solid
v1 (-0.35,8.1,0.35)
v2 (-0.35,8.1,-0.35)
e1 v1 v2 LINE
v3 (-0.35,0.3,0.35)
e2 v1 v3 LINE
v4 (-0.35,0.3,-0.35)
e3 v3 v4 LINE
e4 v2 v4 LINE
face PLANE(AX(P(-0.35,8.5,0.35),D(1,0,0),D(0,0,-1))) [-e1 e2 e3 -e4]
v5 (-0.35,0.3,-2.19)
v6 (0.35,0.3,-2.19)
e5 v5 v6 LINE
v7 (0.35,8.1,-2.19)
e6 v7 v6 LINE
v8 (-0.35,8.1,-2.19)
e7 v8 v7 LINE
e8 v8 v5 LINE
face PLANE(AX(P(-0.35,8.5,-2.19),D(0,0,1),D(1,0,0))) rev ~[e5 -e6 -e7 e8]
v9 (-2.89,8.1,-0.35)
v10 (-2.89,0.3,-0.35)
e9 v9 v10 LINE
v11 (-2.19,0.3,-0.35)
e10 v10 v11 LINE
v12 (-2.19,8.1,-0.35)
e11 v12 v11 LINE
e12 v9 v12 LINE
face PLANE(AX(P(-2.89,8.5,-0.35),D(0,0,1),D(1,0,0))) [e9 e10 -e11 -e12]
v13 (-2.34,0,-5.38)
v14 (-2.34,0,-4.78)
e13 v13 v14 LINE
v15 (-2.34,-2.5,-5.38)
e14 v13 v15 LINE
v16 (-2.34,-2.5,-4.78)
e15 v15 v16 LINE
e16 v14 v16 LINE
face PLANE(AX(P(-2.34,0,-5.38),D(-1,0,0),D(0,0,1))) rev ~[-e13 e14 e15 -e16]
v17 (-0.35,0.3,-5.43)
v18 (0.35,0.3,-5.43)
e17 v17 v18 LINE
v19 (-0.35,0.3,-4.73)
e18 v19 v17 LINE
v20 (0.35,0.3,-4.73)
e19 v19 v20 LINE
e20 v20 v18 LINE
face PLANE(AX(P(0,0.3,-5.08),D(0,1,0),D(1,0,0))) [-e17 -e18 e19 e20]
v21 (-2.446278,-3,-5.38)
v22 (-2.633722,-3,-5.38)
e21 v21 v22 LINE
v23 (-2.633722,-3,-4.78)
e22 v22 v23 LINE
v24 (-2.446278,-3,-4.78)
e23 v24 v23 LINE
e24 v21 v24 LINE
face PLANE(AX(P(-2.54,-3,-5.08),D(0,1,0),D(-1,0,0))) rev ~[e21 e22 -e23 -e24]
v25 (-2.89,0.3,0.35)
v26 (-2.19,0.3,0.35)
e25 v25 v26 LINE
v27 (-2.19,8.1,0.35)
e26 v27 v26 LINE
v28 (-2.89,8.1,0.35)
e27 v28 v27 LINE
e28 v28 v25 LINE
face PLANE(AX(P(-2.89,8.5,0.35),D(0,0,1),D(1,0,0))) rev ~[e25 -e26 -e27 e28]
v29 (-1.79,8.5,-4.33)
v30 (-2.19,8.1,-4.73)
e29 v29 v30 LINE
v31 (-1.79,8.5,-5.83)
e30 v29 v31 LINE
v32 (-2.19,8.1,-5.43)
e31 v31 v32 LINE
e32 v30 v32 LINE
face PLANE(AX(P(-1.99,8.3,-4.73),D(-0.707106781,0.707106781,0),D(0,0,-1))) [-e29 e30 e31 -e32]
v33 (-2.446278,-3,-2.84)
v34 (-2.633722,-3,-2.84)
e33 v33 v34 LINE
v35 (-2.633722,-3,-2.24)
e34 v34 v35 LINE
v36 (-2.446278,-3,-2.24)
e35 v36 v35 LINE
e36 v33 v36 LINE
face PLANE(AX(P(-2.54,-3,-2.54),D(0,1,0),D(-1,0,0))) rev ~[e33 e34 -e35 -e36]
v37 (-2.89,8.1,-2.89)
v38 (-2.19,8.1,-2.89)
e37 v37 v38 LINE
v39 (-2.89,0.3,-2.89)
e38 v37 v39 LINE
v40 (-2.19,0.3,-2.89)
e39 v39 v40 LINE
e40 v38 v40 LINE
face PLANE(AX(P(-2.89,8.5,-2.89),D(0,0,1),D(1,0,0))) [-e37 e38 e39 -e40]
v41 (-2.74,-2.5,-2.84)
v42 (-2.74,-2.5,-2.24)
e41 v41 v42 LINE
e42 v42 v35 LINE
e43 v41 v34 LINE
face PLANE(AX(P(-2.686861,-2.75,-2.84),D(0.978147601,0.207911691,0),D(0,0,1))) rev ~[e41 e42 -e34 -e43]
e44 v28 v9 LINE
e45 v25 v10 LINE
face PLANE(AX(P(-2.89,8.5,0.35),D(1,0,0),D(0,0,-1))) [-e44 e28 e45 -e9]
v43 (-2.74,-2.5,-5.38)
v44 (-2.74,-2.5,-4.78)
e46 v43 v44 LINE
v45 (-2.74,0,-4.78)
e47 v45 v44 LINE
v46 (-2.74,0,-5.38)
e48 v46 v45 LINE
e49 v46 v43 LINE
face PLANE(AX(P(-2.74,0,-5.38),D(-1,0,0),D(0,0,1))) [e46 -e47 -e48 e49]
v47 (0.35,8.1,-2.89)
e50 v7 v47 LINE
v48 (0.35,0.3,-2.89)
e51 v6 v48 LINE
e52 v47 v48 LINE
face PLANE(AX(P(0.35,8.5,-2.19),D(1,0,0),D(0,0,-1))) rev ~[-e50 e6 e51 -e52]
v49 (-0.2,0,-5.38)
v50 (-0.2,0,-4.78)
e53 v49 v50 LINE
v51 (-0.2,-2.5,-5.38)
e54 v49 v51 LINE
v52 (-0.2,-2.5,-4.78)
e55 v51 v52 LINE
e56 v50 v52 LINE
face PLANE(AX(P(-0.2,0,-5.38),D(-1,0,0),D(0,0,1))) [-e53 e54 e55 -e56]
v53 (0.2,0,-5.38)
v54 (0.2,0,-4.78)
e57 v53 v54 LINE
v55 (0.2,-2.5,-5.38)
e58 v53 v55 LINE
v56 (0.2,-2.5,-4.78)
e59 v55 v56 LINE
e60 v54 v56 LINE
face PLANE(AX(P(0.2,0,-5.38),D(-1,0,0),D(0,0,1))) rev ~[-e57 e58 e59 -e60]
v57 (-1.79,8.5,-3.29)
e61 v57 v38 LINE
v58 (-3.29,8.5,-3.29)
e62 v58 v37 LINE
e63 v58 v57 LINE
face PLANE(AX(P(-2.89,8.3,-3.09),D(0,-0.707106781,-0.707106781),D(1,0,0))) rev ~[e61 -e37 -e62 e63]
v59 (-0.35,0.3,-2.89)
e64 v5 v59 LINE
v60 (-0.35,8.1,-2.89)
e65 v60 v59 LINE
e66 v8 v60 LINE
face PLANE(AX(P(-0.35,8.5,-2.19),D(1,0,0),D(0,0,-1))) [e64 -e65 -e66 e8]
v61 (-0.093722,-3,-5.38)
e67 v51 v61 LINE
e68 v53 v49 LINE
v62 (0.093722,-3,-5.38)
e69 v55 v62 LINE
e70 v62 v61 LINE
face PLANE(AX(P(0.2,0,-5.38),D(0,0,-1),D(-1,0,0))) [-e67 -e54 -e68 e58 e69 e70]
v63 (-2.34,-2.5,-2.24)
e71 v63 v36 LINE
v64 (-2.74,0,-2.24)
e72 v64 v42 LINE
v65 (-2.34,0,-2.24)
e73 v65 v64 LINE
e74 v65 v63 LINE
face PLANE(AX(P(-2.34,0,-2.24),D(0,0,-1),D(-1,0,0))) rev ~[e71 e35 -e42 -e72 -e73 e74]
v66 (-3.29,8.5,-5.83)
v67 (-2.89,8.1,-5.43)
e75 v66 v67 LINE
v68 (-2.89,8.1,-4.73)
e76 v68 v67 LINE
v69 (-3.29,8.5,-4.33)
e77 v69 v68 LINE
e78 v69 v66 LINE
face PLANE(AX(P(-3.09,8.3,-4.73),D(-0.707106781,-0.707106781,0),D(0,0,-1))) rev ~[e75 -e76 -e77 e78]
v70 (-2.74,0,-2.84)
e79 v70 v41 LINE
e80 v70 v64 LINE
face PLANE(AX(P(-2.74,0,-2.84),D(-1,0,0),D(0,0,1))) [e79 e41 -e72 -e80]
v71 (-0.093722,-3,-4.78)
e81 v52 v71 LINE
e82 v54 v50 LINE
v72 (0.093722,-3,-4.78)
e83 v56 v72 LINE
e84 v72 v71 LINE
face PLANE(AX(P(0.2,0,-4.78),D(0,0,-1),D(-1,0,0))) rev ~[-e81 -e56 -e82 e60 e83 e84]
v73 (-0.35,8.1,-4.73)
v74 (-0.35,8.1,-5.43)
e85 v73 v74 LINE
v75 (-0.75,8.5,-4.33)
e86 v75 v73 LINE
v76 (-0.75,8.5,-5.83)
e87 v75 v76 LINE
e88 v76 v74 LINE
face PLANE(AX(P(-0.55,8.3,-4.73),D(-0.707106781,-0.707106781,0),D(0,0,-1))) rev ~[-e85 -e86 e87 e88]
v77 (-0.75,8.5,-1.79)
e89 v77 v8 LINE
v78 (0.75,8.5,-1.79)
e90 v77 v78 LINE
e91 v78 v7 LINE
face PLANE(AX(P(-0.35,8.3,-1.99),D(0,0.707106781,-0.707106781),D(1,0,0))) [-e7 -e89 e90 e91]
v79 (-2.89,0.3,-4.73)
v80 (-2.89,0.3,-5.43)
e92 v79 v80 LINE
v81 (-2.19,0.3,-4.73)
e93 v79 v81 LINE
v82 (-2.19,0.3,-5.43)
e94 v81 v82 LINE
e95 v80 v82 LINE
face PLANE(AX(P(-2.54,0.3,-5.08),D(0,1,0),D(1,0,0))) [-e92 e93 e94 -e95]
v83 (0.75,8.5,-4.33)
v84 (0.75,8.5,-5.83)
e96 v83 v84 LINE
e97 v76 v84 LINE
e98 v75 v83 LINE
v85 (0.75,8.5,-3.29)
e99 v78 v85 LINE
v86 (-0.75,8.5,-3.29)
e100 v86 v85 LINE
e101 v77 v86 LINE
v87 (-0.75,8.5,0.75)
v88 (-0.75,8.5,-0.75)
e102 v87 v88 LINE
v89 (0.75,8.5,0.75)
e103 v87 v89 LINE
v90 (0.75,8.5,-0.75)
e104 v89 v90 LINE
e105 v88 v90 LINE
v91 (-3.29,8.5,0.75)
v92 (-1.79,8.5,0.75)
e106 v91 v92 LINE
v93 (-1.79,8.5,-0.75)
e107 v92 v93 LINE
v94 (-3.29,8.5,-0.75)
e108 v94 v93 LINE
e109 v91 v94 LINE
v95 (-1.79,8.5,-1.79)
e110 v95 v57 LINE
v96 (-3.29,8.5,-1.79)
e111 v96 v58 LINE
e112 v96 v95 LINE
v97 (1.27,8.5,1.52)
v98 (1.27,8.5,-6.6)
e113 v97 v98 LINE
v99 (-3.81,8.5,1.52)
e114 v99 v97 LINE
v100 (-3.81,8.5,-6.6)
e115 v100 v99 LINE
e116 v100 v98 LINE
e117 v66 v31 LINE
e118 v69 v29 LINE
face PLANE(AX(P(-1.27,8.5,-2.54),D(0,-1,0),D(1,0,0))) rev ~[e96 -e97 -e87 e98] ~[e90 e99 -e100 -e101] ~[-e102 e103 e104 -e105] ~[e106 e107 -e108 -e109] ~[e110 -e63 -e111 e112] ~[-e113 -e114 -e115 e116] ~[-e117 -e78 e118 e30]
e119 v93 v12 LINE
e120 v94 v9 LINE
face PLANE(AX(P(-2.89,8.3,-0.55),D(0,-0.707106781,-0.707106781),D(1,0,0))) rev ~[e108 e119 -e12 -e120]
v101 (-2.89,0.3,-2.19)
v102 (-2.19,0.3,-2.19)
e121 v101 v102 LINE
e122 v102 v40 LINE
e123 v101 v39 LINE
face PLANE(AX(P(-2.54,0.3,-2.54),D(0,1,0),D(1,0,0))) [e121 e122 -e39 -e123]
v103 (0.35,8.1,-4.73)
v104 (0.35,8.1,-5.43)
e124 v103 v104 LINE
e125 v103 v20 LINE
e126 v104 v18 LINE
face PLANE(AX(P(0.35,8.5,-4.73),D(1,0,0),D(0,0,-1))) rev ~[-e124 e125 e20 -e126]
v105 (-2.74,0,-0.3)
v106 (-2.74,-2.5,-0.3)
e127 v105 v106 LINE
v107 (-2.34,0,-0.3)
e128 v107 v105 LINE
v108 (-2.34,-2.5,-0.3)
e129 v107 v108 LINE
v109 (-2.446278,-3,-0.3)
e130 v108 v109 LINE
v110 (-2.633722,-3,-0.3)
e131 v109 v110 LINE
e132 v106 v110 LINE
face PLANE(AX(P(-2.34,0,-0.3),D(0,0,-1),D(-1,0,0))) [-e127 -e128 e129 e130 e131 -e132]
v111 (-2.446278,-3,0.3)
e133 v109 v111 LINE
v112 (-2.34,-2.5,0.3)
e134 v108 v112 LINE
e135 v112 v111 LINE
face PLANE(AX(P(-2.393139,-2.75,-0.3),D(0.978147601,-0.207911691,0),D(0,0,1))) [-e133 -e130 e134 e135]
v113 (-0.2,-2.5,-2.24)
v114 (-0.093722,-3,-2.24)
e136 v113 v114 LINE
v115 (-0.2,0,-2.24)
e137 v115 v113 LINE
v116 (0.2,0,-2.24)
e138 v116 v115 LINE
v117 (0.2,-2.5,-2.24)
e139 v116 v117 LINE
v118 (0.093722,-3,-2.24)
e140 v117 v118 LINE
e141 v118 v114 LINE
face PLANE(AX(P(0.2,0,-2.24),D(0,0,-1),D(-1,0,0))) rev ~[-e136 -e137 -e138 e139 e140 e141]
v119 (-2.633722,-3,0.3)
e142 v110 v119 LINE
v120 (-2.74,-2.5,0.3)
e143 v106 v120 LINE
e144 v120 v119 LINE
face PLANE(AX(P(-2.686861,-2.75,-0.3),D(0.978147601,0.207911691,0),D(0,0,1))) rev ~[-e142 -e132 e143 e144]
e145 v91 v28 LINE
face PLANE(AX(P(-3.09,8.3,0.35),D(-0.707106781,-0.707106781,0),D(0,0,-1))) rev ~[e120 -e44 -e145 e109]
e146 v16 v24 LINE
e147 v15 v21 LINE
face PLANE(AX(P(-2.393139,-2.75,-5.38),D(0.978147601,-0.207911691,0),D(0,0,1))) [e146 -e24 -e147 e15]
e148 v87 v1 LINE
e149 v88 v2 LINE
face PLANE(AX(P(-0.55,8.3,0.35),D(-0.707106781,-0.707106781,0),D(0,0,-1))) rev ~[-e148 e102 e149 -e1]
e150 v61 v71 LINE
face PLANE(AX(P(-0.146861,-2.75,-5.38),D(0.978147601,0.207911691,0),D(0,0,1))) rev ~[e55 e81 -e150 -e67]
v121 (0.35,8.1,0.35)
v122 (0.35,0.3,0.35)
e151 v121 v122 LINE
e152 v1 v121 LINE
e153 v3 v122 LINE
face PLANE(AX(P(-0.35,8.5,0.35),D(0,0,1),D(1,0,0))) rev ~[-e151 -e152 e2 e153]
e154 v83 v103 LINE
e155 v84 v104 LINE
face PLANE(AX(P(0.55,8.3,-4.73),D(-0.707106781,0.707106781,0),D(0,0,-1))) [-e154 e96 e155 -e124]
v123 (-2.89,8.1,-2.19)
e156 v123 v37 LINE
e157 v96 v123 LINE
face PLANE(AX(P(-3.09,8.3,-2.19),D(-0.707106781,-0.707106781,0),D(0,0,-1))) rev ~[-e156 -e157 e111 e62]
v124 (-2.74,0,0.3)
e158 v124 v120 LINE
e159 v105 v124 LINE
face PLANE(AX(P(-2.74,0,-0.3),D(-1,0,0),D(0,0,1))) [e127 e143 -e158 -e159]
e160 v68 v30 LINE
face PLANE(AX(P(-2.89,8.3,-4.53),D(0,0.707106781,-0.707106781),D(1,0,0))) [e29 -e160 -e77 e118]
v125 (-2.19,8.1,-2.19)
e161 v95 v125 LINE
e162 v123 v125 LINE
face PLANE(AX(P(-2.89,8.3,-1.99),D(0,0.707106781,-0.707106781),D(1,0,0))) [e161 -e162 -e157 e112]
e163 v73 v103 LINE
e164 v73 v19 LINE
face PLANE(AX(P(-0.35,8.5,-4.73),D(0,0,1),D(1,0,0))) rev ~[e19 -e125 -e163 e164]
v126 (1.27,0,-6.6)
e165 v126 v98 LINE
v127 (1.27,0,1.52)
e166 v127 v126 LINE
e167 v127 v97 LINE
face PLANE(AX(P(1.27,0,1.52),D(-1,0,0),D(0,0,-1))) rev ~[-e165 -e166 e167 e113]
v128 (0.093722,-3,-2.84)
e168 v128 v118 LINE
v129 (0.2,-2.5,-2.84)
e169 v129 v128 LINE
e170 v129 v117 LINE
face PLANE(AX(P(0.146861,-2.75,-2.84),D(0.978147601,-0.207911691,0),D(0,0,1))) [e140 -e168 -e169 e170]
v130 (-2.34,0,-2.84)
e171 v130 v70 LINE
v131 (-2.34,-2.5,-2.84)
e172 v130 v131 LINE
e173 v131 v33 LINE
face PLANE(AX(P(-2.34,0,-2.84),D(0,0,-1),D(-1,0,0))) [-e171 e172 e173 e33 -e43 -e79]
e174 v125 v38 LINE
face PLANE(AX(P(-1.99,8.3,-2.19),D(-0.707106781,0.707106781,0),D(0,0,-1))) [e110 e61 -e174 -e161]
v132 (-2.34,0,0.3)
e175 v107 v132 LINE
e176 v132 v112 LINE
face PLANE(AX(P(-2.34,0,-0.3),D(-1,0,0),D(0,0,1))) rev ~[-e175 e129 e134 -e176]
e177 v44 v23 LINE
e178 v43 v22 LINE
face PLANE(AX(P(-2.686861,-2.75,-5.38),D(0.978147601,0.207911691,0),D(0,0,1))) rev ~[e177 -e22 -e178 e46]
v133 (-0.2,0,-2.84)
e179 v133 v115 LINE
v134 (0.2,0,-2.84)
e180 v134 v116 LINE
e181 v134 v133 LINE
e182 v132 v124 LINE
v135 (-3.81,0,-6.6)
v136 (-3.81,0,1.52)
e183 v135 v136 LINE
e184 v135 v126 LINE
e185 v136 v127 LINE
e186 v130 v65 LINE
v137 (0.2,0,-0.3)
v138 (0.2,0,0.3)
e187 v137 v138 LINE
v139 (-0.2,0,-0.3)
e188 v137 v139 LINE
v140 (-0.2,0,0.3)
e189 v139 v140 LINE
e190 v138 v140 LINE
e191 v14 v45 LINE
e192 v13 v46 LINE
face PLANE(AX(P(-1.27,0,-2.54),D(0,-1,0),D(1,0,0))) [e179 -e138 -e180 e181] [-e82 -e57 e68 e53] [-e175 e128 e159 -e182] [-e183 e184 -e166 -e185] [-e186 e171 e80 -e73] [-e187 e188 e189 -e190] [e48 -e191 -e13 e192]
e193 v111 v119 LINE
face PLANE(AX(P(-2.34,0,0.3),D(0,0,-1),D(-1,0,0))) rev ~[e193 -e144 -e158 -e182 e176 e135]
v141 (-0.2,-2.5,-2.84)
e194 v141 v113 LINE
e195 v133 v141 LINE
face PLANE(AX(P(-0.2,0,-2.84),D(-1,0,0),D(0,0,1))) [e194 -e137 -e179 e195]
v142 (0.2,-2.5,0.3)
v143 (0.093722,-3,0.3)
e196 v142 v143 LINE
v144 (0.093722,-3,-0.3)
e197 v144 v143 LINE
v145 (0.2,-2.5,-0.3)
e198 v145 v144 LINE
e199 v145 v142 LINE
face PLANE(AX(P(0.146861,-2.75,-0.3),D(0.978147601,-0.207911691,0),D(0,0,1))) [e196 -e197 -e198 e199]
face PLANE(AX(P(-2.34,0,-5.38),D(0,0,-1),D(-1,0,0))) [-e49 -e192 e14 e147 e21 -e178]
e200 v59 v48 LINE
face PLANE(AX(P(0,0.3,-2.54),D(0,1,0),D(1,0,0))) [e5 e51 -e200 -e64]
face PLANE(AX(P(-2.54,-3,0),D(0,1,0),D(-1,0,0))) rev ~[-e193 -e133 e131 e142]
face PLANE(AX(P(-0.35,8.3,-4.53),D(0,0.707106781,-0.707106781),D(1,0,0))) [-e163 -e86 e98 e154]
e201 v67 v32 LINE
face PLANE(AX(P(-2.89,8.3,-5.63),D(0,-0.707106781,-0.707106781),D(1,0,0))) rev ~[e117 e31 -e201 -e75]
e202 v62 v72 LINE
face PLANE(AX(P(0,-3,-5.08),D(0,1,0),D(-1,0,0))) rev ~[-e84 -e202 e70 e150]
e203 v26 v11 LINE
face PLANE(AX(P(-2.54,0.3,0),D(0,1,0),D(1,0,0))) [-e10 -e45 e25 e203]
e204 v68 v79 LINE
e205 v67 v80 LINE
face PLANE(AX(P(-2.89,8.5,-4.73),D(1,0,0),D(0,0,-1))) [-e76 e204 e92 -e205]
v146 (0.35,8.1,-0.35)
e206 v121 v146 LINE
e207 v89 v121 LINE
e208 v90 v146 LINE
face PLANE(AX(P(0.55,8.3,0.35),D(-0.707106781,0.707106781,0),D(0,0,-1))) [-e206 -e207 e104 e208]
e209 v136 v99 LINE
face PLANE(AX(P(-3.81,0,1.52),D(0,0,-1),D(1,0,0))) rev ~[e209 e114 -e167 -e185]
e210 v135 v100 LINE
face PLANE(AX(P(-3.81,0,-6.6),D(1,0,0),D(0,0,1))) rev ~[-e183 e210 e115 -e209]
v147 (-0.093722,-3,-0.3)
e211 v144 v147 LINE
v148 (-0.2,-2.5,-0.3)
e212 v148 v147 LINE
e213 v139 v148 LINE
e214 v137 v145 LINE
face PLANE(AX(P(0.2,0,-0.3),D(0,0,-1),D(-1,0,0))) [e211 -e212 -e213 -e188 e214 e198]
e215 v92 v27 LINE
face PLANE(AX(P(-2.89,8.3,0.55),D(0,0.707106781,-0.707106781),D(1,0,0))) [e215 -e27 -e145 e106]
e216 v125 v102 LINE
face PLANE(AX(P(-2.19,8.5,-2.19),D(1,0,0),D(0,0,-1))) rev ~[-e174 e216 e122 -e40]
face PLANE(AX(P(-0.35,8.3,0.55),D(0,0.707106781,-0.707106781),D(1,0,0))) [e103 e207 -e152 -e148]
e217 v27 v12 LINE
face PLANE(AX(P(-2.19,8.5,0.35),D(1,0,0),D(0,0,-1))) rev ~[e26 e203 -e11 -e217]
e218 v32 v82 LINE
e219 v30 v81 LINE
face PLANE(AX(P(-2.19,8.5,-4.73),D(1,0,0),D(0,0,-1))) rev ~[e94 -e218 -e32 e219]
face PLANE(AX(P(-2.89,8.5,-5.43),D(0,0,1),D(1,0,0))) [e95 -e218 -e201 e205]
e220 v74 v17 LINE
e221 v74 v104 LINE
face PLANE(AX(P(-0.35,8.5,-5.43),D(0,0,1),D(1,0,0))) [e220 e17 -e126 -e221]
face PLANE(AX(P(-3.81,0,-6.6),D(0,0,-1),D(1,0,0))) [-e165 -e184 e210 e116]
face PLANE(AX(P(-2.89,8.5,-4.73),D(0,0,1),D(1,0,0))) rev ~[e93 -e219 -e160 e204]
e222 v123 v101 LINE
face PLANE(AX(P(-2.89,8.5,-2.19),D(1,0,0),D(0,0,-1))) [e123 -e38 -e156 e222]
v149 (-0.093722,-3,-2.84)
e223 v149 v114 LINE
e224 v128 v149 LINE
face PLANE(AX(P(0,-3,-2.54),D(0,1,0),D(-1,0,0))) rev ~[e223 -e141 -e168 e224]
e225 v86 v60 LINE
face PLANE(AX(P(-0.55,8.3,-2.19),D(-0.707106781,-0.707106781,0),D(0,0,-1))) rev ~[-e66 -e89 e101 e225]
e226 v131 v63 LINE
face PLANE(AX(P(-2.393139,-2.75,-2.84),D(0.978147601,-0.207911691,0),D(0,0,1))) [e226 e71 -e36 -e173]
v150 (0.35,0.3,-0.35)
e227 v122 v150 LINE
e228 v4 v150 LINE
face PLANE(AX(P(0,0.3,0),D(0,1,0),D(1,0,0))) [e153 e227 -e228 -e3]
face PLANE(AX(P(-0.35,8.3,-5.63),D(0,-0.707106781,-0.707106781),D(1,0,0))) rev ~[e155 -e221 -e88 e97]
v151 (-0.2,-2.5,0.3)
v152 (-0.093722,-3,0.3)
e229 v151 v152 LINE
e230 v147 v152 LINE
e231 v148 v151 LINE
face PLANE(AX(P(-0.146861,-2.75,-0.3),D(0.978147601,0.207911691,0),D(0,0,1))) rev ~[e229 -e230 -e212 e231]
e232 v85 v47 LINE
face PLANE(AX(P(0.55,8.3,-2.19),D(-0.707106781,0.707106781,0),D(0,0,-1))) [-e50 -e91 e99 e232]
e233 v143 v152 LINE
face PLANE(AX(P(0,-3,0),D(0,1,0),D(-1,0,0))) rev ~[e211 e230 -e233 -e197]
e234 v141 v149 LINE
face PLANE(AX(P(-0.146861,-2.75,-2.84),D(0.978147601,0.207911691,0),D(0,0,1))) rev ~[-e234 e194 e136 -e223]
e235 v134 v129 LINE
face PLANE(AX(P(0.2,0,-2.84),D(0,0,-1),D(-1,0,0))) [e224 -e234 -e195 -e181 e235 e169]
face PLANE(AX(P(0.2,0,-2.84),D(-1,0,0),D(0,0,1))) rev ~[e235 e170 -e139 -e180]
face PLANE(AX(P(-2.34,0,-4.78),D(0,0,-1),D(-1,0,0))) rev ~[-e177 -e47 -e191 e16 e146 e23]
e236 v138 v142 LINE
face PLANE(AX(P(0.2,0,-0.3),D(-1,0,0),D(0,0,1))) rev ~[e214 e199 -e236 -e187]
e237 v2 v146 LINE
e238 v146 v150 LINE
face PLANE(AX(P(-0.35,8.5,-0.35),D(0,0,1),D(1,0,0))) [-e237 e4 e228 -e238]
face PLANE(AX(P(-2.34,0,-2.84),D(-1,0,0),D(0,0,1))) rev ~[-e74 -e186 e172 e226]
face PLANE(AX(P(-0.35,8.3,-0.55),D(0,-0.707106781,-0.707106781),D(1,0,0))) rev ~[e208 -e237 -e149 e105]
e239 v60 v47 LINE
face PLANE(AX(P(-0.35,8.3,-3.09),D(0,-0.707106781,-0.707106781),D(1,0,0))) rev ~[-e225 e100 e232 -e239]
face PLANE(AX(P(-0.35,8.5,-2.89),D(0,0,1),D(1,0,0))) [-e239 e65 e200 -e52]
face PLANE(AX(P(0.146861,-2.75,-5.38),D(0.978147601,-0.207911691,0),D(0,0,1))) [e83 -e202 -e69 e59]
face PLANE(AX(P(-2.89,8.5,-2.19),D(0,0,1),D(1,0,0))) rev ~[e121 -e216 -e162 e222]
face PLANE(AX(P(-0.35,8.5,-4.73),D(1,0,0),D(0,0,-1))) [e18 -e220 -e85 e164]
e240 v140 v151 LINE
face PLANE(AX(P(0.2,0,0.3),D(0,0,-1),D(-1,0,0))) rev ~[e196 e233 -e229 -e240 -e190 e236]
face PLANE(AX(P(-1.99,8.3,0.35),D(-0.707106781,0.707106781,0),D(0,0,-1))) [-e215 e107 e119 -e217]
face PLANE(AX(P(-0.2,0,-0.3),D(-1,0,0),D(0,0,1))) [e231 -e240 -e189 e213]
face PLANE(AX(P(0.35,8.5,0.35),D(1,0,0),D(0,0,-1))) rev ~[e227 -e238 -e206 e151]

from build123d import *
from OCP.BRepFilletAPI import BRepFilletAPI_MakeChamfer

# Parameters (mm, degrees)
EXTRUDE_1_DEPTH                     = 8.5
SKETCH_4_W                          = 0.7
SKETCH_4_H                          = 0.7
CUT_EXTRUDE_1_DEPTH                 = 8.2
CHAMFER_3_SIZE                      = 0.4
SKETCH_2_W                          = 0.4
SKETCH_2_H                          = 0.6
EXTRUDE_2_DEPTH                     = 3
CHAMFER_2_SIZE                      = 0.5
CHAMFER_2_SIZE2                     = 0.106278281
PATTERN_LINEAR_1_COUNT              = 3
PATTERN_LINEAR_1_PITCH              = 2.54
PATTERN_LINEAR_1_COUNT_DIR2         = 2
PATTERN_LINEAR_1_PITCH_DIR2         = 2.54
CHAMFER_3_OF_PATTERN_LINEAR_1_SIZE  = 0.4
CHAMFER_2_OF_PATTERN_LINEAR_1_SIZE  = 0.5
CHAMFER_2_OF_PATTERN_LINEAR_1_SIZE2 = 0.106278281


with BuildPart() as part:
    # Эскиз1 → Бобышка-Вытянуть1 (new body)
    with BuildSketch(Plane(origin=(0, 0, 0), x_dir=(-1, 0, 0), z_dir=(0, 1, 0))):
        Polygon((-1.27, 1.52), (1.27, 1.52), (3.81, 1.52), (3.81, -1.52), (3.81, -6.6), (-1.27, -6.6), (-1.27, -1.52), align=None)
    extrude(amount=EXTRUDE_1_DEPTH)

    # Эскиз4 → Вырез-Вытянуть1 (cut)
    with BuildSketch(Plane(origin=(0, 8.5, 0), x_dir=(1, 0, 0), z_dir=(0, 1, 0))):
        Rectangle(SKETCH_4_W, SKETCH_4_H)
    cut_extrude_1 = extrude(amount=-CUT_EXTRUDE_1_DEPTH, mode=Mode.SUBTRACT)

    # Фаска3
    chamfer_3_edges = [part.edges().sort_by_distance(p)[0] for p in [
        (-0.35, 8.5, 0),
        (0, 8.5, 0.35),
        (0.35, 8.5, 0),
        (0, 8.5, -0.35),
    ]]
    chamfer(chamfer_3_edges, length=CHAMFER_3_SIZE)

    # Эскиз2 → Бобышка-Вытянуть2 (add)
    with BuildSketch(Plane(origin=(0, 0, 0), x_dir=(-1, 0, 0), z_dir=(0, 1, 0))):
        Rectangle(SKETCH_2_W, SKETCH_2_H)
    extrude_2 = extrude(amount=-EXTRUDE_2_DEPTH)

    # Фаска2: one chamfer whose edges measure the first distance from different faces: ONE call of the kernel's chamfer builder (chamfer() names one face for all edges)
    chamfer_2_edges_1 = [part.edges().sort_by_distance(p)[0] for p in [
        (-0.2, -3, 0),
    ]]
    chamfer_2_side_1 = [part.faces().sort_by_distance(p)[0] for p in [
        (-0.2, -1.5, 0),
    ]]
    chamfer_2_edges_2 = [part.edges().sort_by_distance(p)[0] for p in [
        (0.2, -3, 0),
    ]]
    chamfer_2_side_2 = [part.faces().sort_by_distance(p)[0] for p in [
        (0.2, -1.5, 0),
    ]]
    chamfer_2 = BRepFilletAPI_MakeChamfer(part.part.solid().wrapped)
    for e in chamfer_2_edges_1:
        chamfer_2.Add(CHAMFER_2_SIZE, CHAMFER_2_SIZE2, e.wrapped, chamfer_2_side_1[0].wrapped)  # the first distance lies on this face
    for e in chamfer_2_edges_2:
        chamfer_2.Add(CHAMFER_2_SIZE, CHAMFER_2_SIZE2, e.wrapped, chamfer_2_side_2[0].wrapped)  # the first distance lies on this face
    add(Compound.cast(chamfer_2.Shape()), mode=Mode.REPLACE)

    # Линейный массив1: Вырез-Вытянуть1, Extrude 2 3 × 2
    with Locations(*[(-j * PATTERN_LINEAR_1_PITCH_DIR2, 0, -i * PATTERN_LINEAR_1_PITCH) for i in range(PATTERN_LINEAR_1_COUNT) for j in range(PATTERN_LINEAR_1_COUNT_DIR2) if (i, j) != (0, 0)]):
        add(cut_extrude_1, mode=Mode.SUBTRACT)
        add(extrude_2)

    # Фаска3 of Линейный массив1
    chamfer_3_of_pattern_linear_1_edges = [part.edges().sort_by_distance(p)[0] for p in [
        (-2.89, 8.5, 0),
        (-2.54, 8.5, 0.35),
        (-2.19, 8.5, 0),
        (-2.54, 8.5, -0.35),
        (-0.35, 8.5, -2.54),
        (0, 8.5, -2.19),
        (0.35, 8.5, -2.54),
        (0, 8.5, -2.89),
        (-2.89, 8.5, -2.54),
        (-2.54, 8.5, -2.19),
        (-2.19, 8.5, -2.54),
        (-2.54, 8.5, -2.89),
        (-0.35, 8.5, -5.08),
        (0, 8.5, -4.73),
        (0.35, 8.5, -5.08),
        (0, 8.5, -5.43),
        (-2.89, 8.5, -5.08),
        (-2.54, 8.5, -4.73),
        (-2.19, 8.5, -5.08),
        (-2.54, 8.5, -5.43),
    ]]
    chamfer(chamfer_3_of_pattern_linear_1_edges, length=CHAMFER_3_OF_PATTERN_LINEAR_1_SIZE)

    # Фаска2 of Линейный массив1: one chamfer whose edges measure the first distance from different faces: ONE call of the kernel's chamfer builder (chamfer() names one face for all edges)
    chamfer_2_of_pattern_linear_1_edges_1 = [part.edges().sort_by_distance(p)[0] for p in [
        (-2.74, -3, 0),
    ]]
    chamfer_2_of_pattern_linear_1_side_1 = [part.faces().sort_by_distance(p)[0] for p in [
        (-2.74, -1.5, 0),
    ]]
    chamfer_2_of_pattern_linear_1_edges_2 = [part.edges().sort_by_distance(p)[0] for p in [
        (-2.34, -3, 0),
    ]]
    chamfer_2_of_pattern_linear_1_side_2 = [part.faces().sort_by_distance(p)[0] for p in [
        (-2.34, -1.5, 0),
    ]]
    chamfer_2_of_pattern_linear_1_edges_3 = [part.edges().sort_by_distance(p)[0] for p in [
        (-0.2, -3, -2.54),
    ]]
    chamfer_2_of_pattern_linear_1_side_3 = [part.faces().sort_by_distance(p)[0] for p in [
        (-0.2, -1.5, -2.54),
    ]]
    chamfer_2_of_pattern_linear_1_edges_4 = [part.edges().sort_by_distance(p)[0] for p in [
        (0.2, -3, -2.54),
    ]]
    chamfer_2_of_pattern_linear_1_side_4 = [part.faces().sort_by_distance(p)[0] for p in [
        (0.2, -1.5, -2.54),
    ]]
    chamfer_2_of_pattern_linear_1_edges_5 = [part.edges().sort_by_distance(p)[0] for p in [
        (-2.74, -3, -2.54),
    ]]
    chamfer_2_of_pattern_linear_1_side_5 = [part.faces().sort_by_distance(p)[0] for p in [
        (-2.74, -1.5, -2.54),
    ]]
    chamfer_2_of_pattern_linear_1_edges_6 = [part.edges().sort_by_distance(p)[0] for p in [
        (-2.34, -3, -2.54),
    ]]
    chamfer_2_of_pattern_linear_1_side_6 = [part.faces().sort_by_distance(p)[0] for p in [
        (-2.34, -1.5, -2.54),
    ]]
    chamfer_2_of_pattern_linear_1_edges_7 = [part.edges().sort_by_distance(p)[0] for p in [
        (-0.2, -3, -5.08),
    ]]
    chamfer_2_of_pattern_linear_1_side_7 = [part.faces().sort_by_distance(p)[0] for p in [
        (-0.2, -1.5, -5.08),
    ]]
    chamfer_2_of_pattern_linear_1_edges_8 = [part.edges().sort_by_distance(p)[0] for p in [
        (0.2, -3, -5.08),
    ]]
    chamfer_2_of_pattern_linear_1_side_8 = [part.faces().sort_by_distance(p)[0] for p in [
        (0.2, -1.5, -5.08),
    ]]
    chamfer_2_of_pattern_linear_1_edges_9 = [part.edges().sort_by_distance(p)[0] for p in [
        (-2.74, -3, -5.08),
    ]]
    chamfer_2_of_pattern_linear_1_side_9 = [part.faces().sort_by_distance(p)[0] for p in [
        (-2.74, -1.5, -5.08),
    ]]
    chamfer_2_of_pattern_linear_1_edges_10 = [part.edges().sort_by_distance(p)[0] for p in [
        (-2.34, -3, -5.08),
    ]]
    chamfer_2_of_pattern_linear_1_side_10 = [part.faces().sort_by_distance(p)[0] for p in [
        (-2.34, -1.5, -5.08),
    ]]
    chamfer_2_of_pattern_linear_1 = BRepFilletAPI_MakeChamfer(part.part.solid().wrapped)
    for e in chamfer_2_of_pattern_linear_1_edges_1:
        chamfer_2_of_pattern_linear_1.Add(CHAMFER_2_OF_PATTERN_LINEAR_1_SIZE, CHAMFER_2_OF_PATTERN_LINEAR_1_SIZE2, e.wrapped, chamfer_2_of_pattern_linear_1_side_1[0].wrapped)  # the first distance lies on this face
    for e in chamfer_2_of_pattern_linear_1_edges_2:
        chamfer_2_of_pattern_linear_1.Add(CHAMFER_2_OF_PATTERN_LINEAR_1_SIZE, CHAMFER_2_OF_PATTERN_LINEAR_1_SIZE2, e.wrapped, chamfer_2_of_pattern_linear_1_side_2[0].wrapped)  # the first distance lies on this face
    for e in chamfer_2_of_pattern_linear_1_edges_3:
        chamfer_2_of_pattern_linear_1.Add(CHAMFER_2_OF_PATTERN_LINEAR_1_SIZE, CHAMFER_2_OF_PATTERN_LINEAR_1_SIZE2, e.wrapped, chamfer_2_of_pattern_linear_1_side_3[0].wrapped)  # the first distance lies on this face
    for e in chamfer_2_of_pattern_linear_1_edges_4:
        chamfer_2_of_pattern_linear_1.Add(CHAMFER_2_OF_PATTERN_LINEAR_1_SIZE, CHAMFER_2_OF_PATTERN_LINEAR_1_SIZE2, e.wrapped, chamfer_2_of_pattern_linear_1_side_4[0].wrapped)  # the first distance lies on this face
    for e in chamfer_2_of_pattern_linear_1_edges_5:
        chamfer_2_of_pattern_linear_1.Add(CHAMFER_2_OF_PATTERN_LINEAR_1_SIZE, CHAMFER_2_OF_PATTERN_LINEAR_1_SIZE2, e.wrapped, chamfer_2_of_pattern_linear_1_side_5[0].wrapped)  # the first distance lies on this face
    for e in chamfer_2_of_pattern_linear_1_edges_6:
        chamfer_2_of_pattern_linear_1.Add(CHAMFER_2_OF_PATTERN_LINEAR_1_SIZE, CHAMFER_2_OF_PATTERN_LINEAR_1_SIZE2, e.wrapped, chamfer_2_of_pattern_linear_1_side_6[0].wrapped)  # the first distance lies on this face
    for e in chamfer_2_of_pattern_linear_1_edges_7:
        chamfer_2_of_pattern_linear_1.Add(CHAMFER_2_OF_PATTERN_LINEAR_1_SIZE, CHAMFER_2_OF_PATTERN_LINEAR_1_SIZE2, e.wrapped, chamfer_2_of_pattern_linear_1_side_7[0].wrapped)  # the first distance lies on this face
    for e in chamfer_2_of_pattern_linear_1_edges_8:
        chamfer_2_of_pattern_linear_1.Add(CHAMFER_2_OF_PATTERN_LINEAR_1_SIZE, CHAMFER_2_OF_PATTERN_LINEAR_1_SIZE2, e.wrapped, chamfer_2_of_pattern_linear_1_side_8[0].wrapped)  # the first distance lies on this face
    for e in chamfer_2_of_pattern_linear_1_edges_9:
        chamfer_2_of_pattern_linear_1.Add(CHAMFER_2_OF_PATTERN_LINEAR_1_SIZE, CHAMFER_2_OF_PATTERN_LINEAR_1_SIZE2, e.wrapped, chamfer_2_of_pattern_linear_1_side_9[0].wrapped)  # the first distance lies on this face
    for e in chamfer_2_of_pattern_linear_1_edges_10:
        chamfer_2_of_pattern_linear_1.Add(CHAMFER_2_OF_PATTERN_LINEAR_1_SIZE, CHAMFER_2_OF_PATTERN_LINEAR_1_SIZE2, e.wrapped, chamfer_2_of_pattern_linear_1_side_10[0].wrapped)  # the first distance lies on this face
    add(Compound.cast(chamfer_2_of_pattern_linear_1.Shape()), mode=Mode.REPLACE)


solid = part.part
